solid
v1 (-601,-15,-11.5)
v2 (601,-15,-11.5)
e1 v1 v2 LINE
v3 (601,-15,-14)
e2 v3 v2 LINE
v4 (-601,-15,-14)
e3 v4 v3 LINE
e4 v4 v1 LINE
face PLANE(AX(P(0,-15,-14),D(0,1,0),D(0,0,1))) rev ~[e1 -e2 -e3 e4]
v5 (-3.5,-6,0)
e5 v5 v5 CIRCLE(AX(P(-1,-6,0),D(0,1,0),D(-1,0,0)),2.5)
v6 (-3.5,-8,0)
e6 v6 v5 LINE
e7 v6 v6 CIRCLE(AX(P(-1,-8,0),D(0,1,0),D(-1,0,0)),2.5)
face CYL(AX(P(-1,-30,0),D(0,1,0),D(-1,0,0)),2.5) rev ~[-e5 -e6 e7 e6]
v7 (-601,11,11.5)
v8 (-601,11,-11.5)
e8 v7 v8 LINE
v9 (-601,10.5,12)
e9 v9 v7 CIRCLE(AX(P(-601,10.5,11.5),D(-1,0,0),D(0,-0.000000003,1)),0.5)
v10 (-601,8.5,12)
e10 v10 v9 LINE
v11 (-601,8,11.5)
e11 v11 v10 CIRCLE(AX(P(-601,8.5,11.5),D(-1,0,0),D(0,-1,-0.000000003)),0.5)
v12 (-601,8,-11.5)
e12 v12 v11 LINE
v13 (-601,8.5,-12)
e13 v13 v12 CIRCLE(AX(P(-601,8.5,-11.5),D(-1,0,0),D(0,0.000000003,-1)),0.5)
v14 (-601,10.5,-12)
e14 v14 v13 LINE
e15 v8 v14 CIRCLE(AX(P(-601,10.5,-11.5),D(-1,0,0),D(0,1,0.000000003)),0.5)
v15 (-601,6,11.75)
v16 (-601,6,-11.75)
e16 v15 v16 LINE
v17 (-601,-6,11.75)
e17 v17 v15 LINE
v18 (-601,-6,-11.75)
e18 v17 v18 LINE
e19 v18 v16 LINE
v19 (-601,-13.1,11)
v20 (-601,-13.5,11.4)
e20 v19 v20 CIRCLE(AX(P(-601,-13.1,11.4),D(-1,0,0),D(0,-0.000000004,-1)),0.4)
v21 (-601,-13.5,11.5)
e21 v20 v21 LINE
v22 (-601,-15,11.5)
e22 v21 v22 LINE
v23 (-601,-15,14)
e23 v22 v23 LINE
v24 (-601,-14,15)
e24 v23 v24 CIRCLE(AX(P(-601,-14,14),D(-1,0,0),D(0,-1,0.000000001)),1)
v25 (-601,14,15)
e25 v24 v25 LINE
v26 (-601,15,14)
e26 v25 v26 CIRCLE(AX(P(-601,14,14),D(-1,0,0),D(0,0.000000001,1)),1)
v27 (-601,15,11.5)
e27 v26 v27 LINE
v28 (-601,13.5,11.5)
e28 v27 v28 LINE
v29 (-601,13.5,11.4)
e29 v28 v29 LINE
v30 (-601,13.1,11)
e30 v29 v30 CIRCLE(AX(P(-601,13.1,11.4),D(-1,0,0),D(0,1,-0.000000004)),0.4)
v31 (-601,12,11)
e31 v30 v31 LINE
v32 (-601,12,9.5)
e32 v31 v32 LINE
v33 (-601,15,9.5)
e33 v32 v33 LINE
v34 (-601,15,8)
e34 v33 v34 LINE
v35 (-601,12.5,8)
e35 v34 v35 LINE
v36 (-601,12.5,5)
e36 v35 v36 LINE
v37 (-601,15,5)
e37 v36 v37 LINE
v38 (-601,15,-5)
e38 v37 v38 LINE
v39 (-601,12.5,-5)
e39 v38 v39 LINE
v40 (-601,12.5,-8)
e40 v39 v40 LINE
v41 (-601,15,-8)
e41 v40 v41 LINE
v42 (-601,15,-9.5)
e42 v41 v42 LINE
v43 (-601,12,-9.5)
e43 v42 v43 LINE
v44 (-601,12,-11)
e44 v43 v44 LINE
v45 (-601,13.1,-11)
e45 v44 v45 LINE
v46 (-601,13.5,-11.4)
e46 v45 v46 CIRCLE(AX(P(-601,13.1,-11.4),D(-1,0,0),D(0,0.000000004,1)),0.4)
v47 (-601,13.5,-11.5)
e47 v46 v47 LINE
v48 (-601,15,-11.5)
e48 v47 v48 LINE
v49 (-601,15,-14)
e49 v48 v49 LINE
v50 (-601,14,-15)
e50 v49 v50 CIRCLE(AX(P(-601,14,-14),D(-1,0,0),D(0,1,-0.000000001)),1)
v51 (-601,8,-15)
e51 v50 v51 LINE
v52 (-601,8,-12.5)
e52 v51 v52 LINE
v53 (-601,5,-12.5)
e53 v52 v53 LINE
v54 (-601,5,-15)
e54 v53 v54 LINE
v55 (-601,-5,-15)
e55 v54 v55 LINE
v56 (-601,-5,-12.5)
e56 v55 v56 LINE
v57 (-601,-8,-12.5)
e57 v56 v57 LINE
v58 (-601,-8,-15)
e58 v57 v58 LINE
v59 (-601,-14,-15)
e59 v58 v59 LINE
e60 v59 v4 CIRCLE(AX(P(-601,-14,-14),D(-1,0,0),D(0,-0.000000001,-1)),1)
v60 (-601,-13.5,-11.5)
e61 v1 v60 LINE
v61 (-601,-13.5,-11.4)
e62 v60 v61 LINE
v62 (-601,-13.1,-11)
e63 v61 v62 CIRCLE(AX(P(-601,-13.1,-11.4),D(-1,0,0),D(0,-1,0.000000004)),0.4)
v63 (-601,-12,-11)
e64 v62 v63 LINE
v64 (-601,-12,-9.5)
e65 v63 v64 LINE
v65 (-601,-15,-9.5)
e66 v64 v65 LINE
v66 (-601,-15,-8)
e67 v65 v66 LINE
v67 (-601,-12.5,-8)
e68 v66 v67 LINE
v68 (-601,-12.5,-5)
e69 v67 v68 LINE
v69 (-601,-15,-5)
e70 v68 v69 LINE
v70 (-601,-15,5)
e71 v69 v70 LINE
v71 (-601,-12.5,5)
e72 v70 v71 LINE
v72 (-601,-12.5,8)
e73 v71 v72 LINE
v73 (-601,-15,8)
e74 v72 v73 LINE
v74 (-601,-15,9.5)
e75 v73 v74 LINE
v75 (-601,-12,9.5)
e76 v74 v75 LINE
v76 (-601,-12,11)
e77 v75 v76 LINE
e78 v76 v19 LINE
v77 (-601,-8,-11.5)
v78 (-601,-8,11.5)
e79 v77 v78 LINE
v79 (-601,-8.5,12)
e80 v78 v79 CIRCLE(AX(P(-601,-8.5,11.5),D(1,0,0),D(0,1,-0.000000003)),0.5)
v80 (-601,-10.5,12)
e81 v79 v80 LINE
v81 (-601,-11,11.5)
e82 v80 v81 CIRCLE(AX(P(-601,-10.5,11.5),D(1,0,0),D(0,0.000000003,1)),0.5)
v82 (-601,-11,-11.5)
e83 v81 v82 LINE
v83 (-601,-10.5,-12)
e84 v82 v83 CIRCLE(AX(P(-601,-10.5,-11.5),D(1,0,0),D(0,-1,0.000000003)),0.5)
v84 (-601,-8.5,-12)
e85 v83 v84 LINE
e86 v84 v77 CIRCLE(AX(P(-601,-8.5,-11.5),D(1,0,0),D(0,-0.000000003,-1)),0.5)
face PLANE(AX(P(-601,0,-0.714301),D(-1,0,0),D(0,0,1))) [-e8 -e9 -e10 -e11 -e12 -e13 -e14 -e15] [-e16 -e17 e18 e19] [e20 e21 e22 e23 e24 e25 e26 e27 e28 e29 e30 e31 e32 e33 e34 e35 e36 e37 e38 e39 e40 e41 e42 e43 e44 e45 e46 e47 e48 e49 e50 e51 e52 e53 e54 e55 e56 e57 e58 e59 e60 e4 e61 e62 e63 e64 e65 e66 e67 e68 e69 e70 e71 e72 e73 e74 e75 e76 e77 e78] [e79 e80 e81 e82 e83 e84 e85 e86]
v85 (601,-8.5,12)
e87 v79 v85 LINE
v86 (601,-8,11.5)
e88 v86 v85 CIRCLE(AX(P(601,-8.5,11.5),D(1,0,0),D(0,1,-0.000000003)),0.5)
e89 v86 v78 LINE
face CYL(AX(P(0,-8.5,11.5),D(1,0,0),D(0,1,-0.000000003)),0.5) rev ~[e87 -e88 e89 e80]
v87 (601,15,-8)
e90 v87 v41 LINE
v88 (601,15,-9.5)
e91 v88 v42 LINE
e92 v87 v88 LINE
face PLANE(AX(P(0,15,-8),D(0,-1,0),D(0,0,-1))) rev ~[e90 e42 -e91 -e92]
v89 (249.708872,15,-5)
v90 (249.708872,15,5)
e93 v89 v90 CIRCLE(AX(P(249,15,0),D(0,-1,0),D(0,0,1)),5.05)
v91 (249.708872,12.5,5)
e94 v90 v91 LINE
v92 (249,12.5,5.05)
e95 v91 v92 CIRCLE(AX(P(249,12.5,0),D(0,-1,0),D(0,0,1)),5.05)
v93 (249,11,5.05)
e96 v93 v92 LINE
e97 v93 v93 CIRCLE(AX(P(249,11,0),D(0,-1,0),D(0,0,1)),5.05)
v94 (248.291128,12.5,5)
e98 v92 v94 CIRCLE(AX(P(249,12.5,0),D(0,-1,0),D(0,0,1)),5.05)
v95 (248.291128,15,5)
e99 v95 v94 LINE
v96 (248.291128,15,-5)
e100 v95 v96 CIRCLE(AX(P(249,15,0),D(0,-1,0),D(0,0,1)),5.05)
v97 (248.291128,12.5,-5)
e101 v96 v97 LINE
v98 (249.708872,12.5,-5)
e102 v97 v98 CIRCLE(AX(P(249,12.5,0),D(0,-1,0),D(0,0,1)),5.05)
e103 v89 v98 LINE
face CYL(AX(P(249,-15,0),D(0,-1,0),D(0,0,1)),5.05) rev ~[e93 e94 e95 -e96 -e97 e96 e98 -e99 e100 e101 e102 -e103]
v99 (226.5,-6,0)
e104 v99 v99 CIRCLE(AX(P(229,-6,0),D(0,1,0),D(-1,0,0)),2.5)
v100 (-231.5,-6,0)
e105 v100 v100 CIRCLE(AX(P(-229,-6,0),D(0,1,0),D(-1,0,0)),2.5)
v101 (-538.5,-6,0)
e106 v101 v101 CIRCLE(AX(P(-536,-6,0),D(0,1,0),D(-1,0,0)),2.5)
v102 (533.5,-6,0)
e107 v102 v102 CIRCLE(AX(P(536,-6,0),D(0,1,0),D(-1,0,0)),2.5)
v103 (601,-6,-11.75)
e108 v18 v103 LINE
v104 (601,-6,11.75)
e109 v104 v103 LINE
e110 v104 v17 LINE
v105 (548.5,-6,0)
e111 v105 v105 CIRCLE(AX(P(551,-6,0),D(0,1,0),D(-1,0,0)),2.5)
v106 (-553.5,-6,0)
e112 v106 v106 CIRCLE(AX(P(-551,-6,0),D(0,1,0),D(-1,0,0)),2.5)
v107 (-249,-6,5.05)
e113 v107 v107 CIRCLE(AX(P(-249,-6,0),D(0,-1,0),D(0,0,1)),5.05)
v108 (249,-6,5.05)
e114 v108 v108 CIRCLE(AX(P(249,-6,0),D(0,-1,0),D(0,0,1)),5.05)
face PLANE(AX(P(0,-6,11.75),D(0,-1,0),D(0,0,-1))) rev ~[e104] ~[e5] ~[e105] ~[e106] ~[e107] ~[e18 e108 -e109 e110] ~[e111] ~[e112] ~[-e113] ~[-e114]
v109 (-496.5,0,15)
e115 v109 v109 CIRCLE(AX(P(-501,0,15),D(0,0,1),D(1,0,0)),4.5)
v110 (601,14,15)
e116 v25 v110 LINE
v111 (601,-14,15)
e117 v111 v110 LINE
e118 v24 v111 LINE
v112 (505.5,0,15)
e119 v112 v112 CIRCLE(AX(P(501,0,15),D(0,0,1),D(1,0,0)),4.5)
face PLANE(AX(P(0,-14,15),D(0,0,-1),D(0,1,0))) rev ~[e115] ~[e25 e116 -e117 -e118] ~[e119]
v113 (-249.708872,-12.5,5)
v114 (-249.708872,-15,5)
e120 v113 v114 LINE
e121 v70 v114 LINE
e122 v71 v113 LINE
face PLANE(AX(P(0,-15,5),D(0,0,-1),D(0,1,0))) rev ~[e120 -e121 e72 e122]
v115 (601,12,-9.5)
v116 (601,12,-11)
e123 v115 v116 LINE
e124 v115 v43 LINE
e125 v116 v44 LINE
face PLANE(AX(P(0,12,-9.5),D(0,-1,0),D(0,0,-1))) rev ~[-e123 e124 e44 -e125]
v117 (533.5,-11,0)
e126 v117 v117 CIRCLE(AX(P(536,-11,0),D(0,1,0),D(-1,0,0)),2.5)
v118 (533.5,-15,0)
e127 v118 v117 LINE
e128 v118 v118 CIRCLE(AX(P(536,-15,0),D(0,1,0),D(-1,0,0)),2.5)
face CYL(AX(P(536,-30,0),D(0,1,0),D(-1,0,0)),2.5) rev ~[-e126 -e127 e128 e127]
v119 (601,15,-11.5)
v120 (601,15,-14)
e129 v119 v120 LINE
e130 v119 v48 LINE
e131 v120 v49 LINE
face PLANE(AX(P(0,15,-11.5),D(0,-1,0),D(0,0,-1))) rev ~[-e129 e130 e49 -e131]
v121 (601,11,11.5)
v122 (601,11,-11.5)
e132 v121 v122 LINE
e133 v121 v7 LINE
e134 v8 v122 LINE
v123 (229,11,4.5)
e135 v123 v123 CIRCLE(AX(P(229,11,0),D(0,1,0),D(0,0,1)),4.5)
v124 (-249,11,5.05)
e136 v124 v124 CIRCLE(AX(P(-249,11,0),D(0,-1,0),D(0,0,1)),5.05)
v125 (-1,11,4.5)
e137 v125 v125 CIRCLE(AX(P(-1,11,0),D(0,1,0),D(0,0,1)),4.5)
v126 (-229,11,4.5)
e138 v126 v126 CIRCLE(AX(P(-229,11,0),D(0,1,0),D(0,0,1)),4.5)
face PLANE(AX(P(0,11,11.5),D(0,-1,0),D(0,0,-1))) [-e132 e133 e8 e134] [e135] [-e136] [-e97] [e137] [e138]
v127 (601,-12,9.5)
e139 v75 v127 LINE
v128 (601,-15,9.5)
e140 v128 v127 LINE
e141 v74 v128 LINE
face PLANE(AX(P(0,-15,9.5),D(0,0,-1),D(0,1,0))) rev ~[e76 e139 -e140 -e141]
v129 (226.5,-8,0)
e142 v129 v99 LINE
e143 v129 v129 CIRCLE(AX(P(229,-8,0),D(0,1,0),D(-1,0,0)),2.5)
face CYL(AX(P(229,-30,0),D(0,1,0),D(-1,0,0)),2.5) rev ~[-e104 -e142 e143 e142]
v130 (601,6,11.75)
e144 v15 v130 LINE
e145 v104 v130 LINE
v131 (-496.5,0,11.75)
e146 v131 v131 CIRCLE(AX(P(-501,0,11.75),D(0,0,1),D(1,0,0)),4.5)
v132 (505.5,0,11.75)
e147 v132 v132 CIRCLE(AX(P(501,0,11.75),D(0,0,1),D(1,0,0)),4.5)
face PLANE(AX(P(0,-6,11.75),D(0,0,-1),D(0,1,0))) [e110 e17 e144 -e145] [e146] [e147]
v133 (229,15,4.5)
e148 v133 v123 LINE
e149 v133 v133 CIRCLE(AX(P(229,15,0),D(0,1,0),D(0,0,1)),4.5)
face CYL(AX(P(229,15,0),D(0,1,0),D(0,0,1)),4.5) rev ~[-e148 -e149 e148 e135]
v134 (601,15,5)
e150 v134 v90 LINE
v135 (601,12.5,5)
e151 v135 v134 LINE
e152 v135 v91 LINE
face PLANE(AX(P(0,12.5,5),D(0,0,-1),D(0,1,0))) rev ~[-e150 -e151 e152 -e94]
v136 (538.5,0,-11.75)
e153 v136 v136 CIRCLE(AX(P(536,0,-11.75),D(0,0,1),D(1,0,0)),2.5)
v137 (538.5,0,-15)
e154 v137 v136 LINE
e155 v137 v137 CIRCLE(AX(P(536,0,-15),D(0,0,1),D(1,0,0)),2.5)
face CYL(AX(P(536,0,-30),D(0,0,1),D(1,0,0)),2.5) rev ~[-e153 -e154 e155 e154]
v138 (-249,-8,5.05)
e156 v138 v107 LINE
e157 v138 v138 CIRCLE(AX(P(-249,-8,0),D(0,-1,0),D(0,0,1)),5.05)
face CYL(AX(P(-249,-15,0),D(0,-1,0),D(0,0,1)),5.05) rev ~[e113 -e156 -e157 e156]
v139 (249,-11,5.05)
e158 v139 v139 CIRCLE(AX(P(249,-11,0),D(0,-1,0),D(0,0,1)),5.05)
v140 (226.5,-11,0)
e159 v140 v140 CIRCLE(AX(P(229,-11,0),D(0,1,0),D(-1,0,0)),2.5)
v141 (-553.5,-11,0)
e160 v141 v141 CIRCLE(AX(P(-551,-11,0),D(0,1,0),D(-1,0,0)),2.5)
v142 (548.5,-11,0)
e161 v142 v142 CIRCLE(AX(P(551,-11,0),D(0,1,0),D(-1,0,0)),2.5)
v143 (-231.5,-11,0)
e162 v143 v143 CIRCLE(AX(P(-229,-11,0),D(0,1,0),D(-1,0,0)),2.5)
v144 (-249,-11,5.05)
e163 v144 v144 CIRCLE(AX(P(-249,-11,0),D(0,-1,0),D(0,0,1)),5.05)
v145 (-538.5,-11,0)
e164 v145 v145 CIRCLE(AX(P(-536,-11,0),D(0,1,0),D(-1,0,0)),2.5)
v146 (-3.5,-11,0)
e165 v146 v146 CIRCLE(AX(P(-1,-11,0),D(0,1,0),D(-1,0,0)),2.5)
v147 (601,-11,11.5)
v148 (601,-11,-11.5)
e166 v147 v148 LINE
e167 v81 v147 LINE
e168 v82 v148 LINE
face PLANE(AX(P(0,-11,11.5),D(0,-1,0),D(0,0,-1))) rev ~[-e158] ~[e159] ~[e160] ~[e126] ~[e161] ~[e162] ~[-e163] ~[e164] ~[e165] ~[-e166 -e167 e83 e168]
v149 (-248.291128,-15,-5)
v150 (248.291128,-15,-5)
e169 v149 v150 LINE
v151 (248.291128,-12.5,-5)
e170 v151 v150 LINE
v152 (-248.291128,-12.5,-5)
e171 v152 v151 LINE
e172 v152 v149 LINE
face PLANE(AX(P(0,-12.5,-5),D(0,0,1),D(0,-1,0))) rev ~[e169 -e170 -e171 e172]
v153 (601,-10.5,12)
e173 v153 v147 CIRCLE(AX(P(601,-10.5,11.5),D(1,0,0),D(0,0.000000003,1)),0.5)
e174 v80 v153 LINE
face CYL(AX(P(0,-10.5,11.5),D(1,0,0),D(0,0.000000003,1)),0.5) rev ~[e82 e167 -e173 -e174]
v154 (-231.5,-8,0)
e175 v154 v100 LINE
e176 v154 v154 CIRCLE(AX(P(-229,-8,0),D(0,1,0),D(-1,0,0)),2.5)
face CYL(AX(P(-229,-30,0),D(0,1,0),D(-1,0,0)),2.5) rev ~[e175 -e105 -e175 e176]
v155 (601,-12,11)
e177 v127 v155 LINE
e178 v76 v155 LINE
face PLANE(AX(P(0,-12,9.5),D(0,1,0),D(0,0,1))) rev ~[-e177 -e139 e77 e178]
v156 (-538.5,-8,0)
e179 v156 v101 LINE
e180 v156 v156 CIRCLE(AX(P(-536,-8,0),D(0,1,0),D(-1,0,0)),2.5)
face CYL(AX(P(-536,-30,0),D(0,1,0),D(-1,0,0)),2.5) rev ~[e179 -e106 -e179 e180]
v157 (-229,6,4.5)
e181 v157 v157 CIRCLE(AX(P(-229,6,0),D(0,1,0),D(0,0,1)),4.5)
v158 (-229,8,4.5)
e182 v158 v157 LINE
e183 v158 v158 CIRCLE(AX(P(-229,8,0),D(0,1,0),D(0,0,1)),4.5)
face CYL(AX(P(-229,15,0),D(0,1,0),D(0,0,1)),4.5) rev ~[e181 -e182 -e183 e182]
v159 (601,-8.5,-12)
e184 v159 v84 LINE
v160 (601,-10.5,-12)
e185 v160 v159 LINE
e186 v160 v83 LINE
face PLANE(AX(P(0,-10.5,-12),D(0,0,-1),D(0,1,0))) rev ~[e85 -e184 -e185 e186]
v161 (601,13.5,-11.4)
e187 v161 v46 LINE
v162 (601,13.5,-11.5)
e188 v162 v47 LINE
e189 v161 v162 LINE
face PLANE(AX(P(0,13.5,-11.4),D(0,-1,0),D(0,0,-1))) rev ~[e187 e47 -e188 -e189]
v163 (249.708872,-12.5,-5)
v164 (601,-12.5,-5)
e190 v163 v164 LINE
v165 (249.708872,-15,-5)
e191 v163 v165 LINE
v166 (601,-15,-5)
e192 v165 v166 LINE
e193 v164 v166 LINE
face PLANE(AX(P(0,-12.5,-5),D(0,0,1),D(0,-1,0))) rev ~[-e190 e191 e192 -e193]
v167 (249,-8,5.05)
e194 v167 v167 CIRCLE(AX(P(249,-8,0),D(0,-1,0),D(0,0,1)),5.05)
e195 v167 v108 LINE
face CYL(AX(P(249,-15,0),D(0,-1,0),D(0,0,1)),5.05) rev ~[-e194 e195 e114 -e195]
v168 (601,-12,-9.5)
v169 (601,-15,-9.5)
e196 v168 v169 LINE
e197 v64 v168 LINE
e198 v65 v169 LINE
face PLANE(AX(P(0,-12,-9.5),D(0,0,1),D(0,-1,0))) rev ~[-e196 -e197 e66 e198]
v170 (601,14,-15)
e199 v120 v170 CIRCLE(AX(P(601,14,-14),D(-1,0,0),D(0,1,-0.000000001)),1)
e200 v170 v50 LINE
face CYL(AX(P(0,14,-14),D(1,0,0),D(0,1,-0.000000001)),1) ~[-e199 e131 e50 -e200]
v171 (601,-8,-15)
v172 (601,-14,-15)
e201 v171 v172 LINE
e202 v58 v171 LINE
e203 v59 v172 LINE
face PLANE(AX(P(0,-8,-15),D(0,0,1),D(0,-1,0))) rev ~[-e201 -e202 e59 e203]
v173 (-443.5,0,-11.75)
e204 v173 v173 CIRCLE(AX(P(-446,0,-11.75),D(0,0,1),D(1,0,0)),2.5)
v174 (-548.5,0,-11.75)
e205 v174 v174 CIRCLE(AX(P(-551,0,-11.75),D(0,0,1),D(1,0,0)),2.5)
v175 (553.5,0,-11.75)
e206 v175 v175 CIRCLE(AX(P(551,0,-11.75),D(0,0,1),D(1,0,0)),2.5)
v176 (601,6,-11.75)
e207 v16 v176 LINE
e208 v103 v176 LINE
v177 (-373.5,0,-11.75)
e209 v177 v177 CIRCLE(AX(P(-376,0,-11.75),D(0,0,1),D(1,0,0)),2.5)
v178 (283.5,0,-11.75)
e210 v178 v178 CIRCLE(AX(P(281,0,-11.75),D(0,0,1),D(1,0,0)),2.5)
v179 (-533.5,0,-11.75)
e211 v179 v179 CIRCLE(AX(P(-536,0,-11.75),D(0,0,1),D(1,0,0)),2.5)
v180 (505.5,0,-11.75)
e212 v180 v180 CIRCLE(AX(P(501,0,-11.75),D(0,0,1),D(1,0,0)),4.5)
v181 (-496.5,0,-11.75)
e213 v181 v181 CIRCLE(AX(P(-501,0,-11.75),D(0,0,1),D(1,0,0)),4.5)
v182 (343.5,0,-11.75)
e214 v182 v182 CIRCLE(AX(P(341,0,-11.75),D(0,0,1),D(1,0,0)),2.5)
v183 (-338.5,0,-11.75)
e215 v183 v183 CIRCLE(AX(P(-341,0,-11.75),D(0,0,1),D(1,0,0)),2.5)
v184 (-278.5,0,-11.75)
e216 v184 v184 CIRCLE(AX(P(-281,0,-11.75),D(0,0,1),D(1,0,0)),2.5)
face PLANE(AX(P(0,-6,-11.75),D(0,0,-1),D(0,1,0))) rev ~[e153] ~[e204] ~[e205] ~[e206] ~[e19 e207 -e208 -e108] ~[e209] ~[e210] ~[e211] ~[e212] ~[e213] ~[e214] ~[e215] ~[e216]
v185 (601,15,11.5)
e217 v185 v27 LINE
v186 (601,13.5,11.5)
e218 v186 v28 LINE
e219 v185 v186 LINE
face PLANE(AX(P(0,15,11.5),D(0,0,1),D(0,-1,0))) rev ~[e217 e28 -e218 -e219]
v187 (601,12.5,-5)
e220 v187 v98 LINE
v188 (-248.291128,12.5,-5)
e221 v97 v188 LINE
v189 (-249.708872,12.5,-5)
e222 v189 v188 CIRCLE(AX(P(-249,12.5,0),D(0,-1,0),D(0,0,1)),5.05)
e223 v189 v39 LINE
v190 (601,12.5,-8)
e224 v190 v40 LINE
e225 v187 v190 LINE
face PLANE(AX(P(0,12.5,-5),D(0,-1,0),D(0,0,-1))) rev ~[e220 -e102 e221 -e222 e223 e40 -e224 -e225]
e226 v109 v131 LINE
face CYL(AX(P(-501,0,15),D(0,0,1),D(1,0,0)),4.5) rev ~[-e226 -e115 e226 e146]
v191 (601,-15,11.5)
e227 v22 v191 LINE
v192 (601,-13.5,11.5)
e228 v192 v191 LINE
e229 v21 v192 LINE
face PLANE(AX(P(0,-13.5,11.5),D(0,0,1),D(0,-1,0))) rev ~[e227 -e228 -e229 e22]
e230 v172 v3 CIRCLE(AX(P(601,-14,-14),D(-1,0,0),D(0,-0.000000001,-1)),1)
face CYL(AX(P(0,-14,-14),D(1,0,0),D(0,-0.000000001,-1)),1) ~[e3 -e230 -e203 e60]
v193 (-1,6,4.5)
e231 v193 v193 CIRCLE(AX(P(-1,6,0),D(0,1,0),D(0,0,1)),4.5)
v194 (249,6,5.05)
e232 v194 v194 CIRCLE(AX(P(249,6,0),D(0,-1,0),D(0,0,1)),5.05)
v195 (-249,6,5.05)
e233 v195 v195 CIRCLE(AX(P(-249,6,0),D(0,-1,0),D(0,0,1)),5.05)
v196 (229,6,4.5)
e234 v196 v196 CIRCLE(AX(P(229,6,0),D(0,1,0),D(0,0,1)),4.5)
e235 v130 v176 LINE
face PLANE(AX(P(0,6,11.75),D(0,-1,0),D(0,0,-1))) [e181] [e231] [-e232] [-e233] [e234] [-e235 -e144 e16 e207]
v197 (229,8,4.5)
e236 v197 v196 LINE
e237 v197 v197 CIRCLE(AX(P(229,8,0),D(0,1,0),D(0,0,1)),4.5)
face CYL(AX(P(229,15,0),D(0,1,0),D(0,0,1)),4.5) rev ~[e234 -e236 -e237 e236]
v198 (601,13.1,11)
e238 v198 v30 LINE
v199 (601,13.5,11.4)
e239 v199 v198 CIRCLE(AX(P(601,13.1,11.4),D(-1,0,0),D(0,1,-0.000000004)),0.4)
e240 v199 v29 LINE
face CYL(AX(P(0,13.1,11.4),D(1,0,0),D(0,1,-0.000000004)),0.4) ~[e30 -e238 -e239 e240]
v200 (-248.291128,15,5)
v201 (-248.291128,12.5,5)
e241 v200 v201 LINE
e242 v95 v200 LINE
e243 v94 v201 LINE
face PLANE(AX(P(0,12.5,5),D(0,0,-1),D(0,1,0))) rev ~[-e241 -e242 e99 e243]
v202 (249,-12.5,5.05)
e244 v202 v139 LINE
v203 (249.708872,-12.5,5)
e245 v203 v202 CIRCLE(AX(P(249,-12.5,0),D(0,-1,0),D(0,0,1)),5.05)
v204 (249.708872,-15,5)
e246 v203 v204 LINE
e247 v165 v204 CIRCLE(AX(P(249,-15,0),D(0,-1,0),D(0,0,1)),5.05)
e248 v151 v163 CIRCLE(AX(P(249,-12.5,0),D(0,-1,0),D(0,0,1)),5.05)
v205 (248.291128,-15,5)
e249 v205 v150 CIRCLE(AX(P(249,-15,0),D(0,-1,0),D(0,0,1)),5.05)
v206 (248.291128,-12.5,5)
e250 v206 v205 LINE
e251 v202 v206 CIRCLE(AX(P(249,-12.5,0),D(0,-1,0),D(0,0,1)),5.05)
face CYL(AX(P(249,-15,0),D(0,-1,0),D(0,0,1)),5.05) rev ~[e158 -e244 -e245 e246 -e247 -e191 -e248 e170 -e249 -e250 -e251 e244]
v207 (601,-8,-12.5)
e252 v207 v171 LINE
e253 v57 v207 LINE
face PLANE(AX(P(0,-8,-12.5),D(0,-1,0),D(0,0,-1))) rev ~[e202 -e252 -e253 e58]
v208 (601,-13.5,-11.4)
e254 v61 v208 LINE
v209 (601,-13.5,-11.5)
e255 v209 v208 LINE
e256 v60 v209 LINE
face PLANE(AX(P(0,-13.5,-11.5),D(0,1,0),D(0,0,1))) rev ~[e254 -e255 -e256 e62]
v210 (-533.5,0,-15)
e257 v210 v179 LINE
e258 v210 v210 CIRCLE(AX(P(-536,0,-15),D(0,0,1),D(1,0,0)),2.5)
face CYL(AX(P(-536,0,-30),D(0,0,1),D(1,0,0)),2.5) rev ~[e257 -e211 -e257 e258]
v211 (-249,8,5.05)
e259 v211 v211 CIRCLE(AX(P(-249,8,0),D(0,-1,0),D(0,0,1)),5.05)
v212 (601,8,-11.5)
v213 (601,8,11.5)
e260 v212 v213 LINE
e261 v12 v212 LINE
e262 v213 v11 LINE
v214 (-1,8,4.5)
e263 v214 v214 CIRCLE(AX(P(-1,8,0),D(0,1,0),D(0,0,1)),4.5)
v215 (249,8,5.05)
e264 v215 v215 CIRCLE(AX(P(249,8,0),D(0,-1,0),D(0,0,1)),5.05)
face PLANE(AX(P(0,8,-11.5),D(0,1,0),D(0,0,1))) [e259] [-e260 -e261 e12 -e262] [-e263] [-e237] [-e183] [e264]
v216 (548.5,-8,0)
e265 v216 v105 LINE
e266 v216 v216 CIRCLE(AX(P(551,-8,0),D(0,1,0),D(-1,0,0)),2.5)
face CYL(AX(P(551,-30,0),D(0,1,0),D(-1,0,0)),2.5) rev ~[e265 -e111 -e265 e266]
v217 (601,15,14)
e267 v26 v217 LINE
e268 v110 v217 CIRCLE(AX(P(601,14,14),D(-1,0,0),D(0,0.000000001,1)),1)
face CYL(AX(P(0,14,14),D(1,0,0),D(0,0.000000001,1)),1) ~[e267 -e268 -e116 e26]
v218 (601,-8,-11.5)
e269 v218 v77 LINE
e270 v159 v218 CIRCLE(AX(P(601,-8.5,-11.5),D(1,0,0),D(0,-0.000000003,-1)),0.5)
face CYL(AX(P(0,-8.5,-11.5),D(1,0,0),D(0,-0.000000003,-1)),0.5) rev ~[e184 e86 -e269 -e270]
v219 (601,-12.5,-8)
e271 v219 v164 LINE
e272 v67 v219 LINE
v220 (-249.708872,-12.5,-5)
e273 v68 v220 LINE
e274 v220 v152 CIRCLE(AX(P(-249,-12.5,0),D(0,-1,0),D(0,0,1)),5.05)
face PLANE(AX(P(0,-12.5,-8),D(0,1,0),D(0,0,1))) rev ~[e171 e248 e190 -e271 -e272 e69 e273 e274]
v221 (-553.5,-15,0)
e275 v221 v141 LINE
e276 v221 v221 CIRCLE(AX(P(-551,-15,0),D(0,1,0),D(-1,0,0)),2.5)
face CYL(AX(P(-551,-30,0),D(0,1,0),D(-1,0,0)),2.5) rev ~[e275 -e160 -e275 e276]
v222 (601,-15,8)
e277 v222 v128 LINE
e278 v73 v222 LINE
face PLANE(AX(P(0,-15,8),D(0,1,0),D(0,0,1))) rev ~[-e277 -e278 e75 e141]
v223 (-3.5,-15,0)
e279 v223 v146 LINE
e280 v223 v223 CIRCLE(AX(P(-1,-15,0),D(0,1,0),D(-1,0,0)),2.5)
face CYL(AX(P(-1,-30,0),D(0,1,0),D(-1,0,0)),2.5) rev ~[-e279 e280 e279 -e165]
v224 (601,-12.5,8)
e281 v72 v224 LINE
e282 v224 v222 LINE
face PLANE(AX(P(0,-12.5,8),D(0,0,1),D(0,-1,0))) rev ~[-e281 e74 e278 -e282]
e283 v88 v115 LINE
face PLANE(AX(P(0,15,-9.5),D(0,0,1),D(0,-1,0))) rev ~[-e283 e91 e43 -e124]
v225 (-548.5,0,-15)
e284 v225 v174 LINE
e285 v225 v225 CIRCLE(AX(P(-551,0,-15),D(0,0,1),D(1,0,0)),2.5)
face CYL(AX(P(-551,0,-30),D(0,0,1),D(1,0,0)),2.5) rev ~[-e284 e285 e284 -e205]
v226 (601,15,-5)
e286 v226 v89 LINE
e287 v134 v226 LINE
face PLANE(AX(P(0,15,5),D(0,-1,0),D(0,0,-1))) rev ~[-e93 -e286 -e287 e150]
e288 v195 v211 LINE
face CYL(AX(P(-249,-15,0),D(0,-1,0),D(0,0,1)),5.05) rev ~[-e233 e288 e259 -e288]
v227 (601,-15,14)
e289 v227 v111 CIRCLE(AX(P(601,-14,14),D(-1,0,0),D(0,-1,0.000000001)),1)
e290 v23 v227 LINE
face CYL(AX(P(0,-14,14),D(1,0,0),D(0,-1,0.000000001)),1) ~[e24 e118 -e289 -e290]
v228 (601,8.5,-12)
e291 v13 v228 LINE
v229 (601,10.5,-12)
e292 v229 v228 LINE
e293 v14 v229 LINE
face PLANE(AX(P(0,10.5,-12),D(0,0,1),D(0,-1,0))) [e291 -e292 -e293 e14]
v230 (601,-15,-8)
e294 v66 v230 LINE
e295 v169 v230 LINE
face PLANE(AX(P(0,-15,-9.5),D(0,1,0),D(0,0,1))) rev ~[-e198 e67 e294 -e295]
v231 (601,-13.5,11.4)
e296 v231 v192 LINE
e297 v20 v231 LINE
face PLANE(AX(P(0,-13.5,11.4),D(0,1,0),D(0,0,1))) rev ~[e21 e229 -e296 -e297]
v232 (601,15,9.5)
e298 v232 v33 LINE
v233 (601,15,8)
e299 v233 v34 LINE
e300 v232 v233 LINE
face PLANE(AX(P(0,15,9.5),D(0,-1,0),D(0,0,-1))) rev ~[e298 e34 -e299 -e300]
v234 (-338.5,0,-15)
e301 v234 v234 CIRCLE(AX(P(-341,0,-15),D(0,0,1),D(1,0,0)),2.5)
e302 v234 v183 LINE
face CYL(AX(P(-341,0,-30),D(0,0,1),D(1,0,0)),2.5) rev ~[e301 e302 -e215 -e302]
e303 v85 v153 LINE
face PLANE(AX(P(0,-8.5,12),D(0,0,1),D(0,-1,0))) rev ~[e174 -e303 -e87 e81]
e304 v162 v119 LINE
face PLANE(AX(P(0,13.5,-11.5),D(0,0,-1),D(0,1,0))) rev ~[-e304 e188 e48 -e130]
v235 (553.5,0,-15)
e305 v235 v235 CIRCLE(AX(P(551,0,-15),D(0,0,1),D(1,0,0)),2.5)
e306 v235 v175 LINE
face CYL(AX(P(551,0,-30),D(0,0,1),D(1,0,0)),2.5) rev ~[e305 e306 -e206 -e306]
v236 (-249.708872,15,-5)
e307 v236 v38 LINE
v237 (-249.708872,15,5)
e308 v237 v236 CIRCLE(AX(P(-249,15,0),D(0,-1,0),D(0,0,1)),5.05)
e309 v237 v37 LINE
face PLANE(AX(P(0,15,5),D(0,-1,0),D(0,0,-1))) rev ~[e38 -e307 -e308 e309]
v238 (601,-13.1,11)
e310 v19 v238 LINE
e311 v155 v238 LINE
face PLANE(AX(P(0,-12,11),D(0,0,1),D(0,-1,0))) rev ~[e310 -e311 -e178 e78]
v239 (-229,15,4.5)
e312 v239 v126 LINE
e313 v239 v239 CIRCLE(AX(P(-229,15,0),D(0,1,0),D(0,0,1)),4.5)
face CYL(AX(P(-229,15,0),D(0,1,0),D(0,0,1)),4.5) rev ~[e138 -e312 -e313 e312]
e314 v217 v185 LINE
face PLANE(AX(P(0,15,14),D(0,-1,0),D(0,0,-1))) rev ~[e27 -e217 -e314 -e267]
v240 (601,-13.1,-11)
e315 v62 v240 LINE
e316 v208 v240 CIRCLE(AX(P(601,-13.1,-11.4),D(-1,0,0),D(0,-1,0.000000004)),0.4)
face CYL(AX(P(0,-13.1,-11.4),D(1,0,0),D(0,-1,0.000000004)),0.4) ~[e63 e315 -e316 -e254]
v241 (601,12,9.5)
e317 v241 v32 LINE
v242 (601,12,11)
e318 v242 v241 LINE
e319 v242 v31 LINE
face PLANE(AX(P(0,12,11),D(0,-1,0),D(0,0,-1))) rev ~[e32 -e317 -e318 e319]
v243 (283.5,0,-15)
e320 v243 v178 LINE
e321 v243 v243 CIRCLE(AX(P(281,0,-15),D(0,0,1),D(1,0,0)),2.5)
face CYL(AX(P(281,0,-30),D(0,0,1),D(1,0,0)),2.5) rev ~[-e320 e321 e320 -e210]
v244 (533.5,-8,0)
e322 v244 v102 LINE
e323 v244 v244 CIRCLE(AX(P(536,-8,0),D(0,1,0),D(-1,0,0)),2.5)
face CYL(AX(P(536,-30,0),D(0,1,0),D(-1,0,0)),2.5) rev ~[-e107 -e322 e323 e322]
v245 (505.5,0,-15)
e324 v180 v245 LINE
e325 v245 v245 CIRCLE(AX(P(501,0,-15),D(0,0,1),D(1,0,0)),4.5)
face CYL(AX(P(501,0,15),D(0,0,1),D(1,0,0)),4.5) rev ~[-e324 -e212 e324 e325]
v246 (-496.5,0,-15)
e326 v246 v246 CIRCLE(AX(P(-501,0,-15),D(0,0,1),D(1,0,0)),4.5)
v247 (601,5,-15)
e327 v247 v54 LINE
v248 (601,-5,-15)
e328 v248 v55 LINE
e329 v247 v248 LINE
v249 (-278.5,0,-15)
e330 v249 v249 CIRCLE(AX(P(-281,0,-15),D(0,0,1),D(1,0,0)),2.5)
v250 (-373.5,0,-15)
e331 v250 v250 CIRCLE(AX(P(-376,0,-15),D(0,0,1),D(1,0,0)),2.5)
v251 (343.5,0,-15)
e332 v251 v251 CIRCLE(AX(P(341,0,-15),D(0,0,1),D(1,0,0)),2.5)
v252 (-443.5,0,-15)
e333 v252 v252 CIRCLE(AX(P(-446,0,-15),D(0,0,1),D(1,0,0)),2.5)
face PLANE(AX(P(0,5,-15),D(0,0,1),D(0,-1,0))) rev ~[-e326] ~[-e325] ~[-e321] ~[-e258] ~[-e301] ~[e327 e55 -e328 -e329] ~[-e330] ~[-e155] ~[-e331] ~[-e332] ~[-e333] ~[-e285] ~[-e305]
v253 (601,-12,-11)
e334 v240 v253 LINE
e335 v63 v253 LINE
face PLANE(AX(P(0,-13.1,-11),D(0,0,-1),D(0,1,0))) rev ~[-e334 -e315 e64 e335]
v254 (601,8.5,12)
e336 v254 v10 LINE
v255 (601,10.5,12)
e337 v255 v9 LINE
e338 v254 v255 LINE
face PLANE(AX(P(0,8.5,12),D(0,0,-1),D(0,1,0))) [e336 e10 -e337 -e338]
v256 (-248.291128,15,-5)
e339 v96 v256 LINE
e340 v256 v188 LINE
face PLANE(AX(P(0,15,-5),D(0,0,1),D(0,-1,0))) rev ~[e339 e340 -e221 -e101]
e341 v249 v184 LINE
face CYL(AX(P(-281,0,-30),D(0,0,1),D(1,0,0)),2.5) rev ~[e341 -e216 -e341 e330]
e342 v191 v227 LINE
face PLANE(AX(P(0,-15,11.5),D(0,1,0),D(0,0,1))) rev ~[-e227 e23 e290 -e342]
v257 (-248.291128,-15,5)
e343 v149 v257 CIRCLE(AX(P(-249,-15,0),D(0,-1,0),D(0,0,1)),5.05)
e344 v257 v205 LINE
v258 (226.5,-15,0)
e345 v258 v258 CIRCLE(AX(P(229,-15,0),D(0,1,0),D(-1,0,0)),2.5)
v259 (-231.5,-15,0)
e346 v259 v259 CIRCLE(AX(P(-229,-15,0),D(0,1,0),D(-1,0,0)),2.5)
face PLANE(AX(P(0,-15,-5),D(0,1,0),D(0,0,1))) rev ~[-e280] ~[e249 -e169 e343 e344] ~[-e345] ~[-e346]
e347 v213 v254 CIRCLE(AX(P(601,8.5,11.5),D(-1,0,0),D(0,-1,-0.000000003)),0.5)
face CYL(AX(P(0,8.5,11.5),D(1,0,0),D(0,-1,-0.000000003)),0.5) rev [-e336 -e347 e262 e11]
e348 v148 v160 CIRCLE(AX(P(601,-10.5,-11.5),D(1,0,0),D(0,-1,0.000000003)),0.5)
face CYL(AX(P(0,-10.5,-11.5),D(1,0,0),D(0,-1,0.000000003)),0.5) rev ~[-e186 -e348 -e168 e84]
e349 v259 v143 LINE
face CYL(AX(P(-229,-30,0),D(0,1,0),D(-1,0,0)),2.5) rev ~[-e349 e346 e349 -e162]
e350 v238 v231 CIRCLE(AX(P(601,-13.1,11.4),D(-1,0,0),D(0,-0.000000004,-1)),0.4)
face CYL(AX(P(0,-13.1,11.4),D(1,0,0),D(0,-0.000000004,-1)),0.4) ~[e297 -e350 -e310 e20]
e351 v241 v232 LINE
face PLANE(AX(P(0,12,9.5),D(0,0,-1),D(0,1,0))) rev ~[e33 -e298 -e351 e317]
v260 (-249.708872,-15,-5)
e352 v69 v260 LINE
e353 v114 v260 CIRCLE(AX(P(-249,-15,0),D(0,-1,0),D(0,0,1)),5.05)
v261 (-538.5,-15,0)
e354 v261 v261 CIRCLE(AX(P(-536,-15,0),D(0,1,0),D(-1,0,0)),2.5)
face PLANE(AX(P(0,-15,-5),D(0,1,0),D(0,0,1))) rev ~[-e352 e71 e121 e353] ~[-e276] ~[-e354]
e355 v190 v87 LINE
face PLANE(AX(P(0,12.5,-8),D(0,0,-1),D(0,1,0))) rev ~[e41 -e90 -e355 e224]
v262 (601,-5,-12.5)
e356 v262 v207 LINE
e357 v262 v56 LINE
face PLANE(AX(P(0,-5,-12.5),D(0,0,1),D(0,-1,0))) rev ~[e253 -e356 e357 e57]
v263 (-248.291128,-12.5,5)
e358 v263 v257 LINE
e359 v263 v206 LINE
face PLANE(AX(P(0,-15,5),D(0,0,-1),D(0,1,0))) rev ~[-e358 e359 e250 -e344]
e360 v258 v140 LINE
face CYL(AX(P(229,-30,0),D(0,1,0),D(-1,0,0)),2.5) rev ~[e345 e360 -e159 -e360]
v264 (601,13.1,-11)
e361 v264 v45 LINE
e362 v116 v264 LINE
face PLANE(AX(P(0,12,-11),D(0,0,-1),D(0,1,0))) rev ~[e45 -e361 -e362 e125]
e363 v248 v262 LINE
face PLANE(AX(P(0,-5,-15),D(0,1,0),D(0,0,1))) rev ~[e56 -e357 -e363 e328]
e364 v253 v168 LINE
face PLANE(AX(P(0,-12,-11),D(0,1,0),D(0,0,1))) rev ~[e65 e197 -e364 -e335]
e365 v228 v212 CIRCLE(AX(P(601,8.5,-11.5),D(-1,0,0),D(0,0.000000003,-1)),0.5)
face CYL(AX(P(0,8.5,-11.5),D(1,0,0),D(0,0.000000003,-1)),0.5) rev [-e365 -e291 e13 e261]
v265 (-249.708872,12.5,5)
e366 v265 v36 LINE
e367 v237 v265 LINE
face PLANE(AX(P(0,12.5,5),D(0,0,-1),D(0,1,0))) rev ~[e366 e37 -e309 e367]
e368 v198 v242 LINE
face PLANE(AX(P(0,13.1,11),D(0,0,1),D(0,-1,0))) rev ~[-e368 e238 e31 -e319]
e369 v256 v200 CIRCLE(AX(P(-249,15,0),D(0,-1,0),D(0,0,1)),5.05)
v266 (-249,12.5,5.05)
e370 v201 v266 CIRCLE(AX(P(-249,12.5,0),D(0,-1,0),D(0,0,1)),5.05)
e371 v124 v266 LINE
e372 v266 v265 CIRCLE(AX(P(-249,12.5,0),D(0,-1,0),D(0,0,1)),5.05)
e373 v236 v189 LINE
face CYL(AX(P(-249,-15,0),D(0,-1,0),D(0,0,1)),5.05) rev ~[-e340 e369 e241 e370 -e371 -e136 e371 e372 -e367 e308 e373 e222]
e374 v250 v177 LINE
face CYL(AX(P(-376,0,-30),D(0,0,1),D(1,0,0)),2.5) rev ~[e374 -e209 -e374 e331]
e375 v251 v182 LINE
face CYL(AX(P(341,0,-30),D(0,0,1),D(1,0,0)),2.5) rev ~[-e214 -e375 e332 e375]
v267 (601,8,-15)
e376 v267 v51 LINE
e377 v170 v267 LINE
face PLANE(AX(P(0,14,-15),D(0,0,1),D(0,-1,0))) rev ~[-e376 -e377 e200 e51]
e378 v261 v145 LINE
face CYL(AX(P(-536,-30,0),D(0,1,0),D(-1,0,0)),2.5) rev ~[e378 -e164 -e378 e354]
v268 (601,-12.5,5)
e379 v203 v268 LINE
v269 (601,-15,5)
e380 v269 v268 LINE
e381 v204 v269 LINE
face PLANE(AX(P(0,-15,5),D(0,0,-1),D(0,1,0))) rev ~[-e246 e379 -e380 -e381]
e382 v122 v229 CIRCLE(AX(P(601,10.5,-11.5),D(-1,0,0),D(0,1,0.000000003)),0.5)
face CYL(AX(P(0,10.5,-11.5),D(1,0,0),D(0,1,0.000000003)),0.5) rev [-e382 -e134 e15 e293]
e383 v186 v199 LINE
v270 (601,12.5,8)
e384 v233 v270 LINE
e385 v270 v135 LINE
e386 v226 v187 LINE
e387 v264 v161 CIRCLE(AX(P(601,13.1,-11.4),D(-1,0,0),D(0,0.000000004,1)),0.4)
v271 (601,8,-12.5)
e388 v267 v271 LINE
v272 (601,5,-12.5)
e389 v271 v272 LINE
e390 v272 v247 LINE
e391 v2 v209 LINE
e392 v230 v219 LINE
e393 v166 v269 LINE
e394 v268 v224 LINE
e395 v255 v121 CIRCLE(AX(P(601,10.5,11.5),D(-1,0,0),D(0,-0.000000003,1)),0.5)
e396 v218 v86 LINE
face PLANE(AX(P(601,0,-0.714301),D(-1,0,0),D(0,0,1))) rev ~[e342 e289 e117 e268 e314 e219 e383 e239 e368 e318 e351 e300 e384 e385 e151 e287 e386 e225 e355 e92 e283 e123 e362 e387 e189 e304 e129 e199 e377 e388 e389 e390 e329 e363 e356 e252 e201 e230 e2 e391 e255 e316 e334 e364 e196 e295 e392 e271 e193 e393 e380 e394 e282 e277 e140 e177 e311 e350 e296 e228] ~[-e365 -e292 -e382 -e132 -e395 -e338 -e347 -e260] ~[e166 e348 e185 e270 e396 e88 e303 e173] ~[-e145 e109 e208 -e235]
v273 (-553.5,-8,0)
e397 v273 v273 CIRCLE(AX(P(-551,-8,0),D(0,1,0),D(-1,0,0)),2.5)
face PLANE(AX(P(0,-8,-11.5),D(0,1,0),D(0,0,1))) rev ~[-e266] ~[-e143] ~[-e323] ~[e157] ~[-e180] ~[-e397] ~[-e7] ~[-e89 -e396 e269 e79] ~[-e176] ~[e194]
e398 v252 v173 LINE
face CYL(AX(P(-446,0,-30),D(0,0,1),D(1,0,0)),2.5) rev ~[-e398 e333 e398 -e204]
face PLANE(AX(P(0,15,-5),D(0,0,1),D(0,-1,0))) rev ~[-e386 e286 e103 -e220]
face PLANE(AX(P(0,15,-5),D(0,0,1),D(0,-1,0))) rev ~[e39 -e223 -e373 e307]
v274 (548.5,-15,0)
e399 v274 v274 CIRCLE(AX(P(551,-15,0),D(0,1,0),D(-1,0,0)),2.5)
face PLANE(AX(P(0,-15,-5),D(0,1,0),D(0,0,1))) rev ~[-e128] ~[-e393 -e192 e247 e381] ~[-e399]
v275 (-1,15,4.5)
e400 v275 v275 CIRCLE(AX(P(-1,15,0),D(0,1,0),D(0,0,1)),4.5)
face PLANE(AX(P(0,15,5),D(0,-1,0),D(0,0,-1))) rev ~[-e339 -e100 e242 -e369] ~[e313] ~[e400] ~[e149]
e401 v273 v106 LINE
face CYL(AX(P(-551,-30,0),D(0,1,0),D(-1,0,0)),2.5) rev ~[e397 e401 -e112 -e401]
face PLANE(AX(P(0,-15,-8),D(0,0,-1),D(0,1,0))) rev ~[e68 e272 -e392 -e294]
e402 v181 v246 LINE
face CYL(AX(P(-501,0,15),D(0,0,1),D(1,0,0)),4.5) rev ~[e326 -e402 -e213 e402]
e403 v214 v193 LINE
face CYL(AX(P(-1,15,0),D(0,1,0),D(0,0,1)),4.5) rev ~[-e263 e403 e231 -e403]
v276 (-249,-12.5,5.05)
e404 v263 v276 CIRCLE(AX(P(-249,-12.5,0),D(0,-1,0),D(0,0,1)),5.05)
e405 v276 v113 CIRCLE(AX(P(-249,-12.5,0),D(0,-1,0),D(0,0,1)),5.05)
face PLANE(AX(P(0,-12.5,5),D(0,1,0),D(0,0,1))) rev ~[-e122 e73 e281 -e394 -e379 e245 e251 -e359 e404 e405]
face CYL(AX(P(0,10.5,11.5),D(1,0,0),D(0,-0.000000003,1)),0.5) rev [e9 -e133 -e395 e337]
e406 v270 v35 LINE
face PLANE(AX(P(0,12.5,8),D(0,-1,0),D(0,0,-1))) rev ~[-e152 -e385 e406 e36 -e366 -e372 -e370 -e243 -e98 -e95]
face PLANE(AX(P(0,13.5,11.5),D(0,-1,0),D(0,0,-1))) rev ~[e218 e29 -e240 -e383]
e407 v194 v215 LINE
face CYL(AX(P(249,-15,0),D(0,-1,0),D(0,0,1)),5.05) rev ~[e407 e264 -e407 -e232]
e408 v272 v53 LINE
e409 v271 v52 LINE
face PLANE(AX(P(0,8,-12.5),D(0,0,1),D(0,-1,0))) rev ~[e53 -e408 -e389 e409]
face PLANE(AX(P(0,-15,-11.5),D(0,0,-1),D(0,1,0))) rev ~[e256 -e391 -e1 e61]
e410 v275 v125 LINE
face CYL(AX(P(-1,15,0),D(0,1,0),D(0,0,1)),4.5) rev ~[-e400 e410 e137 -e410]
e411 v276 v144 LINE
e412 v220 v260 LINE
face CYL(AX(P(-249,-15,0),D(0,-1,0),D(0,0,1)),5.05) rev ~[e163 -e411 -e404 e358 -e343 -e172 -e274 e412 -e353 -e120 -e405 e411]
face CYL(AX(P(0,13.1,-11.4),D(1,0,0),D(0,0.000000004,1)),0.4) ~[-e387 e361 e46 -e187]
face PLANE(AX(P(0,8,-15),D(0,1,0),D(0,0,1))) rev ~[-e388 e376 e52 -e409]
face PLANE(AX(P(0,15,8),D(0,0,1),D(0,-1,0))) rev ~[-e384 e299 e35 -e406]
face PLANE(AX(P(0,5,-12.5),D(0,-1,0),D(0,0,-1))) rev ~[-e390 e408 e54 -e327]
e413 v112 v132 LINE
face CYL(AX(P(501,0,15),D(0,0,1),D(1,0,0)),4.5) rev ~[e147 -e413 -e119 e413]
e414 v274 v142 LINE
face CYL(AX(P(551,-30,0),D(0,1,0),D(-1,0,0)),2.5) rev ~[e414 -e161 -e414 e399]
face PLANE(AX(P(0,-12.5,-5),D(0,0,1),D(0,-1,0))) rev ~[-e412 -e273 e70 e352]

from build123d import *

# Parameters (mm, degrees)
SKETCH_1_W             = 23.5
SKETCH_1_H             = 12
EXTRUDE_1_DEPTH        = 601
HOLE_WIZARD_M6_1_D     = 5
HOLE_WIZARD_M6_1_DEPTH = 15
HOLE_WIZARD_M6_1_TIP   = 1.502151548
HOLE_WIZARD_M6_2_D     = 5
HOLE_WIZARD_M6_2_DEPTH = 15
HOLE_WIZARD_M6_2_TIP   = 1.502151548
SKETCH_9_R             = 4.5
CUT_EXTRUDE_1_DEPTH    = 602.935212461
SKETCH_12_R            = 5.05
CUT_EXTRUDE_6_DEPTH    = 602.935212461
HOLE_WIZARD_M6_3_D     = 5
HOLE_WIZARD_M6_3_DEPTH = 15
HOLE_WIZARD_M6_3_TIP   = 1.502151548
SKETCH_15_R            = 4.5
CUT_EXTRUDE_7_DEPTH    = 15
HOLE_WIZARD_M6_4_D     = 5
HOLE_WIZARD_M6_4_DEPTH = 15
HOLE_WIZARD_M6_4_TIP   = 1.502151548
HOLE_WIZARD_M6_5_D     = 5
HOLE_WIZARD_M6_5_DEPTH = 15
HOLE_WIZARD_M6_5_TIP   = 1.502151548


with BuildPart() as part:
    # 草图1 → 凸台-拉伸1 (new, symmetric)
    with BuildSketch(Plane(origin=(0, 0, 0), x_dir=(0, 0, -1), z_dir=(1, 0, 0))):
        with BuildLine():
            Line((-14, 15), (-11.5, 15))
            Line((-11.5, 15), (-11.5, 13.5))
            Line((-11.5, 13.5), (-11.4, 13.5))
            ThreePointArc((-11.4, 13.5), (-11.117157288, 13.382842712), (-11, 13.1))
            Line((-11, 13.1), (-11, 12))
            Line((-11, 12), (-9.5, 12))
            Line((-9.5, 12), (-9.5, 15))
            Line((-9.5, 15), (-8, 15))
            Line((-8, 15), (-8, 12.5))
            Line((-8, 12.5), (-5, 12.5))
            Line((-5, 12.5), (-5, 15))
            Line((-5, 15), (5, 15))
            Line((5, 15), (5, 12.5))
            Line((5, 12.5), (8, 12.5))
            Line((8, 12.5), (8, 15))
            Line((8, 15), (9.5, 15))
            Line((9.5, 15), (9.5, 12))
            Line((9.5, 12), (11, 12))
            Line((11, 12), (11, 13.1))
            ThreePointArc((11, 13.1), (11.117157288, 13.382842712), (11.4, 13.5))
            Line((11.4, 13.5), (11.5, 13.5))
            Line((11.5, 13.5), (11.5, 15))
            Line((11.5, 15), (14, 15))
            ThreePointArc((14, 15), (14.707106781, 14.707106781), (15, 14))
            Line((15, 14), (15, 8))
            Line((15, 8), (12.5, 8))
            Line((12.5, 8), (12.5, 5))
            Line((12.5, 5), (15, 5))
            Line((15, 5), (15, -5))
            Line((15, -5), (12.5, -5))
            Line((12.5, -5), (12.5, -8))
            Line((12.5, -8), (15, -8))
            Line((15, -8), (15, -14))
            ThreePointArc((15, -14), (14.707106781, -14.707106781), (14, -15))
            Line((14, -15), (11.5, -15))
            Line((11.5, -15), (11.5, -13.5))
            Line((11.5, -13.5), (11.4, -13.5))
            ThreePointArc((11.4, -13.5), (11.117157288, -13.382842712), (11, -13.1))
            Line((11, -13.1), (11, -12))
            Line((11, -12), (9.5, -12))
            Line((9.5, -12), (9.5, -15))
            Line((9.5, -15), (8, -15))
            Line((8, -15), (8, -12.5))
            Line((8, -12.5), (5, -12.5))
            Line((5, -12.5), (5, -15))
            Line((5, -15), (-5, -15))
            Line((-5, -15), (-5, -12.5))
            Line((-5, -12.5), (-8, -12.5))
            Line((-8, -12.5), (-8, -15))
            Line((-8, -15), (-9.5, -15))
            Line((-9.5, -15), (-9.5, -12))
            Line((-9.5, -12), (-11, -12))
            Line((-11, -12), (-11, -13.1))
            ThreePointArc((-11, -13.1), (-11.117157288, -13.382842712), (-11.4, -13.5))
            Line((-11.4, -13.5), (-11.5, -13.5))
            Line((-11.5, -13.5), (-11.5, -15))
            Line((-11.5, -15), (-14, -15))
            ThreePointArc((-14, -15), (-14.707106781, -14.707106781), (-15, -14))
            Line((-15, -14), (-15, 14))
            ThreePointArc((-15, 14), (-14.707106781, 14.707106781), (-14, 15))
        make_face()
        with BuildLine():
            Line((12, -10.5), (12, -8.5))
            ThreePointArc((12, -8.5), (11.853553391, -8.146446609), (11.5, -8))
            Line((11.5, -8), (-11.5, -8))
            ThreePointArc((-11.5, -8), (-11.853553391, -8.146446609), (-12, -8.5))
            Line((-12, -8.5), (-12, -10.5))
            ThreePointArc((-12, -10.5), (-11.853553391, -10.853553391), (-11.5, -11))
            Line((-11.5, -11), (11.5, -11))
            ThreePointArc((11.5, -11), (11.853553391, -10.853553391), (12, -10.5))
        make_face(mode=Mode.SUBTRACT)
        with BuildLine():
            Line((-11.5, 11), (11.5, 11))
            ThreePointArc((11.5, 11), (11.853553391, 10.853553391), (12, 10.5))
            Line((12, 10.5), (12, 8.5))
            ThreePointArc((12, 8.5), (11.853553391, 8.146446609), (11.5, 8))
            Line((11.5, 8), (-11.5, 8))
            ThreePointArc((-11.5, 8), (-11.853553391, 8.146446609), (-12, 8.5))
            Line((-12, 8.5), (-12, 10.5))
            ThreePointArc((-12, 10.5), (-11.853553391, 10.853553391), (-11.5, 11))
        make_face(mode=Mode.SUBTRACT)
        Rectangle(SKETCH_1_W, SKETCH_1_H, mode=Mode.SUBTRACT)
    extrude(amount=EXTRUDE_1_DEPTH, both=True)

    # M6 螺纹孔1
    with Locations(Plane(origin=(0, 0, -15), x_dir=(-1, 0, 0), z_dir=(0, 0, -1))):
        with Locations((-551, 0), (-536, 0), (551, 0), (536, 0)):
            Hole(HOLE_WIZARD_M6_1_D / 2, depth=HOLE_WIZARD_M6_1_DEPTH)
            with Locations((0, 0, -(HOLE_WIZARD_M6_1_DEPTH + HOLE_WIZARD_M6_1_TIP / 2))):  # 118° drill point
                Cone(0, HOLE_WIZARD_M6_1_D / 2, HOLE_WIZARD_M6_1_TIP, mode=Mode.SUBTRACT)

    # M6 螺纹孔2
    with Locations(Plane.XZ.offset(15)):
        with Locations((-551, 0), (-536, 0), (536, 0), (551, 0)):
            Hole(HOLE_WIZARD_M6_2_D / 2, depth=HOLE_WIZARD_M6_2_DEPTH)
            with Locations((0, 0, -(HOLE_WIZARD_M6_2_DEPTH + HOLE_WIZARD_M6_2_TIP / 2))):  # 118° drill point
                Cone(0, HOLE_WIZARD_M6_2_D / 2, HOLE_WIZARD_M6_2_TIP, mode=Mode.SUBTRACT)

    # 草图9 → 切除-拉伸1 (cut, through all)
    with BuildSketch(Plane.XY.offset(15)):
        with Locations((501, 0)):
            Circle(SKETCH_9_R)
        with Locations((-501, 0)):
            Circle(SKETCH_9_R)
    extrude(amount=-CUT_EXTRUDE_1_DEPTH, mode=Mode.SUBTRACT)

    # 草图12 → 切除-拉伸6 (cut, through all)
    with BuildSketch(Plane.XZ.offset(15)):
        with Locations(Location((-249, 0, 0), (0, 0, 90))):
            Circle(SKETCH_12_R)
        with Locations(Location((249, 0, 0), (0, 0, 90))):
            Circle(SKETCH_12_R)
    extrude(amount=-CUT_EXTRUDE_6_DEPTH, mode=Mode.SUBTRACT)

    # M6 螺纹孔3
    with Locations(Plane.XZ.offset(15)):
        with Locations((-229, 0), (-1, 0), (229, 0)):
            Hole(HOLE_WIZARD_M6_3_D / 2, depth=HOLE_WIZARD_M6_3_DEPTH)
            with Locations((0, 0, -(HOLE_WIZARD_M6_3_DEPTH + HOLE_WIZARD_M6_3_TIP / 2))):  # 118° drill point
                Cone(0, HOLE_WIZARD_M6_3_D / 2, HOLE_WIZARD_M6_3_TIP, mode=Mode.SUBTRACT)

    # 草图15 → 切除-拉伸7 (cut)
    with BuildSketch(Plane(origin=(0, 15, 0), x_dir=(-1, 0, 0), z_dir=(0, 1, 0))):
        with Locations(Location((229, 0, 0), (0, 0, 90))):
            Circle(SKETCH_15_R)
        with Locations(Location((1, 0, 0), (0, 0, 90))):
            Circle(SKETCH_15_R)
        with Locations(Location((-229, 0, 0), (0, 0, 90))):
            Circle(SKETCH_15_R)
    extrude(amount=-CUT_EXTRUDE_7_DEPTH, mode=Mode.SUBTRACT)

    # M6 螺纹孔4
    with Locations(Plane(origin=(0, 0, -15), x_dir=(-1, 0, 0), z_dir=(0, 0, -1))):
        with Locations((341, 0), (281, 0), (-281, 0), (-341, 0)):
            Hole(HOLE_WIZARD_M6_4_D / 2, depth=HOLE_WIZARD_M6_4_DEPTH)
            with Locations((0, 0, -(HOLE_WIZARD_M6_4_DEPTH + HOLE_WIZARD_M6_4_TIP / 2))):  # 118° drill point
                Cone(0, HOLE_WIZARD_M6_4_D / 2, HOLE_WIZARD_M6_4_TIP, mode=Mode.SUBTRACT)

    # M6 螺纹孔5
    with Locations(Plane(origin=(0, 0, -15), x_dir=(-1, 0, 0), z_dir=(0, 0, -1))):
        with Locations((446, 0), (376, 0)):
            Hole(HOLE_WIZARD_M6_5_D / 2, depth=HOLE_WIZARD_M6_5_DEPTH)
            with Locations((0, 0, -(HOLE_WIZARD_M6_5_DEPTH + HOLE_WIZARD_M6_5_TIP / 2))):  # 118° drill point
                Cone(0, HOLE_WIZARD_M6_5_D / 2, HOLE_WIZARD_M6_5_TIP, mode=Mode.SUBTRACT)


solid = part.part
